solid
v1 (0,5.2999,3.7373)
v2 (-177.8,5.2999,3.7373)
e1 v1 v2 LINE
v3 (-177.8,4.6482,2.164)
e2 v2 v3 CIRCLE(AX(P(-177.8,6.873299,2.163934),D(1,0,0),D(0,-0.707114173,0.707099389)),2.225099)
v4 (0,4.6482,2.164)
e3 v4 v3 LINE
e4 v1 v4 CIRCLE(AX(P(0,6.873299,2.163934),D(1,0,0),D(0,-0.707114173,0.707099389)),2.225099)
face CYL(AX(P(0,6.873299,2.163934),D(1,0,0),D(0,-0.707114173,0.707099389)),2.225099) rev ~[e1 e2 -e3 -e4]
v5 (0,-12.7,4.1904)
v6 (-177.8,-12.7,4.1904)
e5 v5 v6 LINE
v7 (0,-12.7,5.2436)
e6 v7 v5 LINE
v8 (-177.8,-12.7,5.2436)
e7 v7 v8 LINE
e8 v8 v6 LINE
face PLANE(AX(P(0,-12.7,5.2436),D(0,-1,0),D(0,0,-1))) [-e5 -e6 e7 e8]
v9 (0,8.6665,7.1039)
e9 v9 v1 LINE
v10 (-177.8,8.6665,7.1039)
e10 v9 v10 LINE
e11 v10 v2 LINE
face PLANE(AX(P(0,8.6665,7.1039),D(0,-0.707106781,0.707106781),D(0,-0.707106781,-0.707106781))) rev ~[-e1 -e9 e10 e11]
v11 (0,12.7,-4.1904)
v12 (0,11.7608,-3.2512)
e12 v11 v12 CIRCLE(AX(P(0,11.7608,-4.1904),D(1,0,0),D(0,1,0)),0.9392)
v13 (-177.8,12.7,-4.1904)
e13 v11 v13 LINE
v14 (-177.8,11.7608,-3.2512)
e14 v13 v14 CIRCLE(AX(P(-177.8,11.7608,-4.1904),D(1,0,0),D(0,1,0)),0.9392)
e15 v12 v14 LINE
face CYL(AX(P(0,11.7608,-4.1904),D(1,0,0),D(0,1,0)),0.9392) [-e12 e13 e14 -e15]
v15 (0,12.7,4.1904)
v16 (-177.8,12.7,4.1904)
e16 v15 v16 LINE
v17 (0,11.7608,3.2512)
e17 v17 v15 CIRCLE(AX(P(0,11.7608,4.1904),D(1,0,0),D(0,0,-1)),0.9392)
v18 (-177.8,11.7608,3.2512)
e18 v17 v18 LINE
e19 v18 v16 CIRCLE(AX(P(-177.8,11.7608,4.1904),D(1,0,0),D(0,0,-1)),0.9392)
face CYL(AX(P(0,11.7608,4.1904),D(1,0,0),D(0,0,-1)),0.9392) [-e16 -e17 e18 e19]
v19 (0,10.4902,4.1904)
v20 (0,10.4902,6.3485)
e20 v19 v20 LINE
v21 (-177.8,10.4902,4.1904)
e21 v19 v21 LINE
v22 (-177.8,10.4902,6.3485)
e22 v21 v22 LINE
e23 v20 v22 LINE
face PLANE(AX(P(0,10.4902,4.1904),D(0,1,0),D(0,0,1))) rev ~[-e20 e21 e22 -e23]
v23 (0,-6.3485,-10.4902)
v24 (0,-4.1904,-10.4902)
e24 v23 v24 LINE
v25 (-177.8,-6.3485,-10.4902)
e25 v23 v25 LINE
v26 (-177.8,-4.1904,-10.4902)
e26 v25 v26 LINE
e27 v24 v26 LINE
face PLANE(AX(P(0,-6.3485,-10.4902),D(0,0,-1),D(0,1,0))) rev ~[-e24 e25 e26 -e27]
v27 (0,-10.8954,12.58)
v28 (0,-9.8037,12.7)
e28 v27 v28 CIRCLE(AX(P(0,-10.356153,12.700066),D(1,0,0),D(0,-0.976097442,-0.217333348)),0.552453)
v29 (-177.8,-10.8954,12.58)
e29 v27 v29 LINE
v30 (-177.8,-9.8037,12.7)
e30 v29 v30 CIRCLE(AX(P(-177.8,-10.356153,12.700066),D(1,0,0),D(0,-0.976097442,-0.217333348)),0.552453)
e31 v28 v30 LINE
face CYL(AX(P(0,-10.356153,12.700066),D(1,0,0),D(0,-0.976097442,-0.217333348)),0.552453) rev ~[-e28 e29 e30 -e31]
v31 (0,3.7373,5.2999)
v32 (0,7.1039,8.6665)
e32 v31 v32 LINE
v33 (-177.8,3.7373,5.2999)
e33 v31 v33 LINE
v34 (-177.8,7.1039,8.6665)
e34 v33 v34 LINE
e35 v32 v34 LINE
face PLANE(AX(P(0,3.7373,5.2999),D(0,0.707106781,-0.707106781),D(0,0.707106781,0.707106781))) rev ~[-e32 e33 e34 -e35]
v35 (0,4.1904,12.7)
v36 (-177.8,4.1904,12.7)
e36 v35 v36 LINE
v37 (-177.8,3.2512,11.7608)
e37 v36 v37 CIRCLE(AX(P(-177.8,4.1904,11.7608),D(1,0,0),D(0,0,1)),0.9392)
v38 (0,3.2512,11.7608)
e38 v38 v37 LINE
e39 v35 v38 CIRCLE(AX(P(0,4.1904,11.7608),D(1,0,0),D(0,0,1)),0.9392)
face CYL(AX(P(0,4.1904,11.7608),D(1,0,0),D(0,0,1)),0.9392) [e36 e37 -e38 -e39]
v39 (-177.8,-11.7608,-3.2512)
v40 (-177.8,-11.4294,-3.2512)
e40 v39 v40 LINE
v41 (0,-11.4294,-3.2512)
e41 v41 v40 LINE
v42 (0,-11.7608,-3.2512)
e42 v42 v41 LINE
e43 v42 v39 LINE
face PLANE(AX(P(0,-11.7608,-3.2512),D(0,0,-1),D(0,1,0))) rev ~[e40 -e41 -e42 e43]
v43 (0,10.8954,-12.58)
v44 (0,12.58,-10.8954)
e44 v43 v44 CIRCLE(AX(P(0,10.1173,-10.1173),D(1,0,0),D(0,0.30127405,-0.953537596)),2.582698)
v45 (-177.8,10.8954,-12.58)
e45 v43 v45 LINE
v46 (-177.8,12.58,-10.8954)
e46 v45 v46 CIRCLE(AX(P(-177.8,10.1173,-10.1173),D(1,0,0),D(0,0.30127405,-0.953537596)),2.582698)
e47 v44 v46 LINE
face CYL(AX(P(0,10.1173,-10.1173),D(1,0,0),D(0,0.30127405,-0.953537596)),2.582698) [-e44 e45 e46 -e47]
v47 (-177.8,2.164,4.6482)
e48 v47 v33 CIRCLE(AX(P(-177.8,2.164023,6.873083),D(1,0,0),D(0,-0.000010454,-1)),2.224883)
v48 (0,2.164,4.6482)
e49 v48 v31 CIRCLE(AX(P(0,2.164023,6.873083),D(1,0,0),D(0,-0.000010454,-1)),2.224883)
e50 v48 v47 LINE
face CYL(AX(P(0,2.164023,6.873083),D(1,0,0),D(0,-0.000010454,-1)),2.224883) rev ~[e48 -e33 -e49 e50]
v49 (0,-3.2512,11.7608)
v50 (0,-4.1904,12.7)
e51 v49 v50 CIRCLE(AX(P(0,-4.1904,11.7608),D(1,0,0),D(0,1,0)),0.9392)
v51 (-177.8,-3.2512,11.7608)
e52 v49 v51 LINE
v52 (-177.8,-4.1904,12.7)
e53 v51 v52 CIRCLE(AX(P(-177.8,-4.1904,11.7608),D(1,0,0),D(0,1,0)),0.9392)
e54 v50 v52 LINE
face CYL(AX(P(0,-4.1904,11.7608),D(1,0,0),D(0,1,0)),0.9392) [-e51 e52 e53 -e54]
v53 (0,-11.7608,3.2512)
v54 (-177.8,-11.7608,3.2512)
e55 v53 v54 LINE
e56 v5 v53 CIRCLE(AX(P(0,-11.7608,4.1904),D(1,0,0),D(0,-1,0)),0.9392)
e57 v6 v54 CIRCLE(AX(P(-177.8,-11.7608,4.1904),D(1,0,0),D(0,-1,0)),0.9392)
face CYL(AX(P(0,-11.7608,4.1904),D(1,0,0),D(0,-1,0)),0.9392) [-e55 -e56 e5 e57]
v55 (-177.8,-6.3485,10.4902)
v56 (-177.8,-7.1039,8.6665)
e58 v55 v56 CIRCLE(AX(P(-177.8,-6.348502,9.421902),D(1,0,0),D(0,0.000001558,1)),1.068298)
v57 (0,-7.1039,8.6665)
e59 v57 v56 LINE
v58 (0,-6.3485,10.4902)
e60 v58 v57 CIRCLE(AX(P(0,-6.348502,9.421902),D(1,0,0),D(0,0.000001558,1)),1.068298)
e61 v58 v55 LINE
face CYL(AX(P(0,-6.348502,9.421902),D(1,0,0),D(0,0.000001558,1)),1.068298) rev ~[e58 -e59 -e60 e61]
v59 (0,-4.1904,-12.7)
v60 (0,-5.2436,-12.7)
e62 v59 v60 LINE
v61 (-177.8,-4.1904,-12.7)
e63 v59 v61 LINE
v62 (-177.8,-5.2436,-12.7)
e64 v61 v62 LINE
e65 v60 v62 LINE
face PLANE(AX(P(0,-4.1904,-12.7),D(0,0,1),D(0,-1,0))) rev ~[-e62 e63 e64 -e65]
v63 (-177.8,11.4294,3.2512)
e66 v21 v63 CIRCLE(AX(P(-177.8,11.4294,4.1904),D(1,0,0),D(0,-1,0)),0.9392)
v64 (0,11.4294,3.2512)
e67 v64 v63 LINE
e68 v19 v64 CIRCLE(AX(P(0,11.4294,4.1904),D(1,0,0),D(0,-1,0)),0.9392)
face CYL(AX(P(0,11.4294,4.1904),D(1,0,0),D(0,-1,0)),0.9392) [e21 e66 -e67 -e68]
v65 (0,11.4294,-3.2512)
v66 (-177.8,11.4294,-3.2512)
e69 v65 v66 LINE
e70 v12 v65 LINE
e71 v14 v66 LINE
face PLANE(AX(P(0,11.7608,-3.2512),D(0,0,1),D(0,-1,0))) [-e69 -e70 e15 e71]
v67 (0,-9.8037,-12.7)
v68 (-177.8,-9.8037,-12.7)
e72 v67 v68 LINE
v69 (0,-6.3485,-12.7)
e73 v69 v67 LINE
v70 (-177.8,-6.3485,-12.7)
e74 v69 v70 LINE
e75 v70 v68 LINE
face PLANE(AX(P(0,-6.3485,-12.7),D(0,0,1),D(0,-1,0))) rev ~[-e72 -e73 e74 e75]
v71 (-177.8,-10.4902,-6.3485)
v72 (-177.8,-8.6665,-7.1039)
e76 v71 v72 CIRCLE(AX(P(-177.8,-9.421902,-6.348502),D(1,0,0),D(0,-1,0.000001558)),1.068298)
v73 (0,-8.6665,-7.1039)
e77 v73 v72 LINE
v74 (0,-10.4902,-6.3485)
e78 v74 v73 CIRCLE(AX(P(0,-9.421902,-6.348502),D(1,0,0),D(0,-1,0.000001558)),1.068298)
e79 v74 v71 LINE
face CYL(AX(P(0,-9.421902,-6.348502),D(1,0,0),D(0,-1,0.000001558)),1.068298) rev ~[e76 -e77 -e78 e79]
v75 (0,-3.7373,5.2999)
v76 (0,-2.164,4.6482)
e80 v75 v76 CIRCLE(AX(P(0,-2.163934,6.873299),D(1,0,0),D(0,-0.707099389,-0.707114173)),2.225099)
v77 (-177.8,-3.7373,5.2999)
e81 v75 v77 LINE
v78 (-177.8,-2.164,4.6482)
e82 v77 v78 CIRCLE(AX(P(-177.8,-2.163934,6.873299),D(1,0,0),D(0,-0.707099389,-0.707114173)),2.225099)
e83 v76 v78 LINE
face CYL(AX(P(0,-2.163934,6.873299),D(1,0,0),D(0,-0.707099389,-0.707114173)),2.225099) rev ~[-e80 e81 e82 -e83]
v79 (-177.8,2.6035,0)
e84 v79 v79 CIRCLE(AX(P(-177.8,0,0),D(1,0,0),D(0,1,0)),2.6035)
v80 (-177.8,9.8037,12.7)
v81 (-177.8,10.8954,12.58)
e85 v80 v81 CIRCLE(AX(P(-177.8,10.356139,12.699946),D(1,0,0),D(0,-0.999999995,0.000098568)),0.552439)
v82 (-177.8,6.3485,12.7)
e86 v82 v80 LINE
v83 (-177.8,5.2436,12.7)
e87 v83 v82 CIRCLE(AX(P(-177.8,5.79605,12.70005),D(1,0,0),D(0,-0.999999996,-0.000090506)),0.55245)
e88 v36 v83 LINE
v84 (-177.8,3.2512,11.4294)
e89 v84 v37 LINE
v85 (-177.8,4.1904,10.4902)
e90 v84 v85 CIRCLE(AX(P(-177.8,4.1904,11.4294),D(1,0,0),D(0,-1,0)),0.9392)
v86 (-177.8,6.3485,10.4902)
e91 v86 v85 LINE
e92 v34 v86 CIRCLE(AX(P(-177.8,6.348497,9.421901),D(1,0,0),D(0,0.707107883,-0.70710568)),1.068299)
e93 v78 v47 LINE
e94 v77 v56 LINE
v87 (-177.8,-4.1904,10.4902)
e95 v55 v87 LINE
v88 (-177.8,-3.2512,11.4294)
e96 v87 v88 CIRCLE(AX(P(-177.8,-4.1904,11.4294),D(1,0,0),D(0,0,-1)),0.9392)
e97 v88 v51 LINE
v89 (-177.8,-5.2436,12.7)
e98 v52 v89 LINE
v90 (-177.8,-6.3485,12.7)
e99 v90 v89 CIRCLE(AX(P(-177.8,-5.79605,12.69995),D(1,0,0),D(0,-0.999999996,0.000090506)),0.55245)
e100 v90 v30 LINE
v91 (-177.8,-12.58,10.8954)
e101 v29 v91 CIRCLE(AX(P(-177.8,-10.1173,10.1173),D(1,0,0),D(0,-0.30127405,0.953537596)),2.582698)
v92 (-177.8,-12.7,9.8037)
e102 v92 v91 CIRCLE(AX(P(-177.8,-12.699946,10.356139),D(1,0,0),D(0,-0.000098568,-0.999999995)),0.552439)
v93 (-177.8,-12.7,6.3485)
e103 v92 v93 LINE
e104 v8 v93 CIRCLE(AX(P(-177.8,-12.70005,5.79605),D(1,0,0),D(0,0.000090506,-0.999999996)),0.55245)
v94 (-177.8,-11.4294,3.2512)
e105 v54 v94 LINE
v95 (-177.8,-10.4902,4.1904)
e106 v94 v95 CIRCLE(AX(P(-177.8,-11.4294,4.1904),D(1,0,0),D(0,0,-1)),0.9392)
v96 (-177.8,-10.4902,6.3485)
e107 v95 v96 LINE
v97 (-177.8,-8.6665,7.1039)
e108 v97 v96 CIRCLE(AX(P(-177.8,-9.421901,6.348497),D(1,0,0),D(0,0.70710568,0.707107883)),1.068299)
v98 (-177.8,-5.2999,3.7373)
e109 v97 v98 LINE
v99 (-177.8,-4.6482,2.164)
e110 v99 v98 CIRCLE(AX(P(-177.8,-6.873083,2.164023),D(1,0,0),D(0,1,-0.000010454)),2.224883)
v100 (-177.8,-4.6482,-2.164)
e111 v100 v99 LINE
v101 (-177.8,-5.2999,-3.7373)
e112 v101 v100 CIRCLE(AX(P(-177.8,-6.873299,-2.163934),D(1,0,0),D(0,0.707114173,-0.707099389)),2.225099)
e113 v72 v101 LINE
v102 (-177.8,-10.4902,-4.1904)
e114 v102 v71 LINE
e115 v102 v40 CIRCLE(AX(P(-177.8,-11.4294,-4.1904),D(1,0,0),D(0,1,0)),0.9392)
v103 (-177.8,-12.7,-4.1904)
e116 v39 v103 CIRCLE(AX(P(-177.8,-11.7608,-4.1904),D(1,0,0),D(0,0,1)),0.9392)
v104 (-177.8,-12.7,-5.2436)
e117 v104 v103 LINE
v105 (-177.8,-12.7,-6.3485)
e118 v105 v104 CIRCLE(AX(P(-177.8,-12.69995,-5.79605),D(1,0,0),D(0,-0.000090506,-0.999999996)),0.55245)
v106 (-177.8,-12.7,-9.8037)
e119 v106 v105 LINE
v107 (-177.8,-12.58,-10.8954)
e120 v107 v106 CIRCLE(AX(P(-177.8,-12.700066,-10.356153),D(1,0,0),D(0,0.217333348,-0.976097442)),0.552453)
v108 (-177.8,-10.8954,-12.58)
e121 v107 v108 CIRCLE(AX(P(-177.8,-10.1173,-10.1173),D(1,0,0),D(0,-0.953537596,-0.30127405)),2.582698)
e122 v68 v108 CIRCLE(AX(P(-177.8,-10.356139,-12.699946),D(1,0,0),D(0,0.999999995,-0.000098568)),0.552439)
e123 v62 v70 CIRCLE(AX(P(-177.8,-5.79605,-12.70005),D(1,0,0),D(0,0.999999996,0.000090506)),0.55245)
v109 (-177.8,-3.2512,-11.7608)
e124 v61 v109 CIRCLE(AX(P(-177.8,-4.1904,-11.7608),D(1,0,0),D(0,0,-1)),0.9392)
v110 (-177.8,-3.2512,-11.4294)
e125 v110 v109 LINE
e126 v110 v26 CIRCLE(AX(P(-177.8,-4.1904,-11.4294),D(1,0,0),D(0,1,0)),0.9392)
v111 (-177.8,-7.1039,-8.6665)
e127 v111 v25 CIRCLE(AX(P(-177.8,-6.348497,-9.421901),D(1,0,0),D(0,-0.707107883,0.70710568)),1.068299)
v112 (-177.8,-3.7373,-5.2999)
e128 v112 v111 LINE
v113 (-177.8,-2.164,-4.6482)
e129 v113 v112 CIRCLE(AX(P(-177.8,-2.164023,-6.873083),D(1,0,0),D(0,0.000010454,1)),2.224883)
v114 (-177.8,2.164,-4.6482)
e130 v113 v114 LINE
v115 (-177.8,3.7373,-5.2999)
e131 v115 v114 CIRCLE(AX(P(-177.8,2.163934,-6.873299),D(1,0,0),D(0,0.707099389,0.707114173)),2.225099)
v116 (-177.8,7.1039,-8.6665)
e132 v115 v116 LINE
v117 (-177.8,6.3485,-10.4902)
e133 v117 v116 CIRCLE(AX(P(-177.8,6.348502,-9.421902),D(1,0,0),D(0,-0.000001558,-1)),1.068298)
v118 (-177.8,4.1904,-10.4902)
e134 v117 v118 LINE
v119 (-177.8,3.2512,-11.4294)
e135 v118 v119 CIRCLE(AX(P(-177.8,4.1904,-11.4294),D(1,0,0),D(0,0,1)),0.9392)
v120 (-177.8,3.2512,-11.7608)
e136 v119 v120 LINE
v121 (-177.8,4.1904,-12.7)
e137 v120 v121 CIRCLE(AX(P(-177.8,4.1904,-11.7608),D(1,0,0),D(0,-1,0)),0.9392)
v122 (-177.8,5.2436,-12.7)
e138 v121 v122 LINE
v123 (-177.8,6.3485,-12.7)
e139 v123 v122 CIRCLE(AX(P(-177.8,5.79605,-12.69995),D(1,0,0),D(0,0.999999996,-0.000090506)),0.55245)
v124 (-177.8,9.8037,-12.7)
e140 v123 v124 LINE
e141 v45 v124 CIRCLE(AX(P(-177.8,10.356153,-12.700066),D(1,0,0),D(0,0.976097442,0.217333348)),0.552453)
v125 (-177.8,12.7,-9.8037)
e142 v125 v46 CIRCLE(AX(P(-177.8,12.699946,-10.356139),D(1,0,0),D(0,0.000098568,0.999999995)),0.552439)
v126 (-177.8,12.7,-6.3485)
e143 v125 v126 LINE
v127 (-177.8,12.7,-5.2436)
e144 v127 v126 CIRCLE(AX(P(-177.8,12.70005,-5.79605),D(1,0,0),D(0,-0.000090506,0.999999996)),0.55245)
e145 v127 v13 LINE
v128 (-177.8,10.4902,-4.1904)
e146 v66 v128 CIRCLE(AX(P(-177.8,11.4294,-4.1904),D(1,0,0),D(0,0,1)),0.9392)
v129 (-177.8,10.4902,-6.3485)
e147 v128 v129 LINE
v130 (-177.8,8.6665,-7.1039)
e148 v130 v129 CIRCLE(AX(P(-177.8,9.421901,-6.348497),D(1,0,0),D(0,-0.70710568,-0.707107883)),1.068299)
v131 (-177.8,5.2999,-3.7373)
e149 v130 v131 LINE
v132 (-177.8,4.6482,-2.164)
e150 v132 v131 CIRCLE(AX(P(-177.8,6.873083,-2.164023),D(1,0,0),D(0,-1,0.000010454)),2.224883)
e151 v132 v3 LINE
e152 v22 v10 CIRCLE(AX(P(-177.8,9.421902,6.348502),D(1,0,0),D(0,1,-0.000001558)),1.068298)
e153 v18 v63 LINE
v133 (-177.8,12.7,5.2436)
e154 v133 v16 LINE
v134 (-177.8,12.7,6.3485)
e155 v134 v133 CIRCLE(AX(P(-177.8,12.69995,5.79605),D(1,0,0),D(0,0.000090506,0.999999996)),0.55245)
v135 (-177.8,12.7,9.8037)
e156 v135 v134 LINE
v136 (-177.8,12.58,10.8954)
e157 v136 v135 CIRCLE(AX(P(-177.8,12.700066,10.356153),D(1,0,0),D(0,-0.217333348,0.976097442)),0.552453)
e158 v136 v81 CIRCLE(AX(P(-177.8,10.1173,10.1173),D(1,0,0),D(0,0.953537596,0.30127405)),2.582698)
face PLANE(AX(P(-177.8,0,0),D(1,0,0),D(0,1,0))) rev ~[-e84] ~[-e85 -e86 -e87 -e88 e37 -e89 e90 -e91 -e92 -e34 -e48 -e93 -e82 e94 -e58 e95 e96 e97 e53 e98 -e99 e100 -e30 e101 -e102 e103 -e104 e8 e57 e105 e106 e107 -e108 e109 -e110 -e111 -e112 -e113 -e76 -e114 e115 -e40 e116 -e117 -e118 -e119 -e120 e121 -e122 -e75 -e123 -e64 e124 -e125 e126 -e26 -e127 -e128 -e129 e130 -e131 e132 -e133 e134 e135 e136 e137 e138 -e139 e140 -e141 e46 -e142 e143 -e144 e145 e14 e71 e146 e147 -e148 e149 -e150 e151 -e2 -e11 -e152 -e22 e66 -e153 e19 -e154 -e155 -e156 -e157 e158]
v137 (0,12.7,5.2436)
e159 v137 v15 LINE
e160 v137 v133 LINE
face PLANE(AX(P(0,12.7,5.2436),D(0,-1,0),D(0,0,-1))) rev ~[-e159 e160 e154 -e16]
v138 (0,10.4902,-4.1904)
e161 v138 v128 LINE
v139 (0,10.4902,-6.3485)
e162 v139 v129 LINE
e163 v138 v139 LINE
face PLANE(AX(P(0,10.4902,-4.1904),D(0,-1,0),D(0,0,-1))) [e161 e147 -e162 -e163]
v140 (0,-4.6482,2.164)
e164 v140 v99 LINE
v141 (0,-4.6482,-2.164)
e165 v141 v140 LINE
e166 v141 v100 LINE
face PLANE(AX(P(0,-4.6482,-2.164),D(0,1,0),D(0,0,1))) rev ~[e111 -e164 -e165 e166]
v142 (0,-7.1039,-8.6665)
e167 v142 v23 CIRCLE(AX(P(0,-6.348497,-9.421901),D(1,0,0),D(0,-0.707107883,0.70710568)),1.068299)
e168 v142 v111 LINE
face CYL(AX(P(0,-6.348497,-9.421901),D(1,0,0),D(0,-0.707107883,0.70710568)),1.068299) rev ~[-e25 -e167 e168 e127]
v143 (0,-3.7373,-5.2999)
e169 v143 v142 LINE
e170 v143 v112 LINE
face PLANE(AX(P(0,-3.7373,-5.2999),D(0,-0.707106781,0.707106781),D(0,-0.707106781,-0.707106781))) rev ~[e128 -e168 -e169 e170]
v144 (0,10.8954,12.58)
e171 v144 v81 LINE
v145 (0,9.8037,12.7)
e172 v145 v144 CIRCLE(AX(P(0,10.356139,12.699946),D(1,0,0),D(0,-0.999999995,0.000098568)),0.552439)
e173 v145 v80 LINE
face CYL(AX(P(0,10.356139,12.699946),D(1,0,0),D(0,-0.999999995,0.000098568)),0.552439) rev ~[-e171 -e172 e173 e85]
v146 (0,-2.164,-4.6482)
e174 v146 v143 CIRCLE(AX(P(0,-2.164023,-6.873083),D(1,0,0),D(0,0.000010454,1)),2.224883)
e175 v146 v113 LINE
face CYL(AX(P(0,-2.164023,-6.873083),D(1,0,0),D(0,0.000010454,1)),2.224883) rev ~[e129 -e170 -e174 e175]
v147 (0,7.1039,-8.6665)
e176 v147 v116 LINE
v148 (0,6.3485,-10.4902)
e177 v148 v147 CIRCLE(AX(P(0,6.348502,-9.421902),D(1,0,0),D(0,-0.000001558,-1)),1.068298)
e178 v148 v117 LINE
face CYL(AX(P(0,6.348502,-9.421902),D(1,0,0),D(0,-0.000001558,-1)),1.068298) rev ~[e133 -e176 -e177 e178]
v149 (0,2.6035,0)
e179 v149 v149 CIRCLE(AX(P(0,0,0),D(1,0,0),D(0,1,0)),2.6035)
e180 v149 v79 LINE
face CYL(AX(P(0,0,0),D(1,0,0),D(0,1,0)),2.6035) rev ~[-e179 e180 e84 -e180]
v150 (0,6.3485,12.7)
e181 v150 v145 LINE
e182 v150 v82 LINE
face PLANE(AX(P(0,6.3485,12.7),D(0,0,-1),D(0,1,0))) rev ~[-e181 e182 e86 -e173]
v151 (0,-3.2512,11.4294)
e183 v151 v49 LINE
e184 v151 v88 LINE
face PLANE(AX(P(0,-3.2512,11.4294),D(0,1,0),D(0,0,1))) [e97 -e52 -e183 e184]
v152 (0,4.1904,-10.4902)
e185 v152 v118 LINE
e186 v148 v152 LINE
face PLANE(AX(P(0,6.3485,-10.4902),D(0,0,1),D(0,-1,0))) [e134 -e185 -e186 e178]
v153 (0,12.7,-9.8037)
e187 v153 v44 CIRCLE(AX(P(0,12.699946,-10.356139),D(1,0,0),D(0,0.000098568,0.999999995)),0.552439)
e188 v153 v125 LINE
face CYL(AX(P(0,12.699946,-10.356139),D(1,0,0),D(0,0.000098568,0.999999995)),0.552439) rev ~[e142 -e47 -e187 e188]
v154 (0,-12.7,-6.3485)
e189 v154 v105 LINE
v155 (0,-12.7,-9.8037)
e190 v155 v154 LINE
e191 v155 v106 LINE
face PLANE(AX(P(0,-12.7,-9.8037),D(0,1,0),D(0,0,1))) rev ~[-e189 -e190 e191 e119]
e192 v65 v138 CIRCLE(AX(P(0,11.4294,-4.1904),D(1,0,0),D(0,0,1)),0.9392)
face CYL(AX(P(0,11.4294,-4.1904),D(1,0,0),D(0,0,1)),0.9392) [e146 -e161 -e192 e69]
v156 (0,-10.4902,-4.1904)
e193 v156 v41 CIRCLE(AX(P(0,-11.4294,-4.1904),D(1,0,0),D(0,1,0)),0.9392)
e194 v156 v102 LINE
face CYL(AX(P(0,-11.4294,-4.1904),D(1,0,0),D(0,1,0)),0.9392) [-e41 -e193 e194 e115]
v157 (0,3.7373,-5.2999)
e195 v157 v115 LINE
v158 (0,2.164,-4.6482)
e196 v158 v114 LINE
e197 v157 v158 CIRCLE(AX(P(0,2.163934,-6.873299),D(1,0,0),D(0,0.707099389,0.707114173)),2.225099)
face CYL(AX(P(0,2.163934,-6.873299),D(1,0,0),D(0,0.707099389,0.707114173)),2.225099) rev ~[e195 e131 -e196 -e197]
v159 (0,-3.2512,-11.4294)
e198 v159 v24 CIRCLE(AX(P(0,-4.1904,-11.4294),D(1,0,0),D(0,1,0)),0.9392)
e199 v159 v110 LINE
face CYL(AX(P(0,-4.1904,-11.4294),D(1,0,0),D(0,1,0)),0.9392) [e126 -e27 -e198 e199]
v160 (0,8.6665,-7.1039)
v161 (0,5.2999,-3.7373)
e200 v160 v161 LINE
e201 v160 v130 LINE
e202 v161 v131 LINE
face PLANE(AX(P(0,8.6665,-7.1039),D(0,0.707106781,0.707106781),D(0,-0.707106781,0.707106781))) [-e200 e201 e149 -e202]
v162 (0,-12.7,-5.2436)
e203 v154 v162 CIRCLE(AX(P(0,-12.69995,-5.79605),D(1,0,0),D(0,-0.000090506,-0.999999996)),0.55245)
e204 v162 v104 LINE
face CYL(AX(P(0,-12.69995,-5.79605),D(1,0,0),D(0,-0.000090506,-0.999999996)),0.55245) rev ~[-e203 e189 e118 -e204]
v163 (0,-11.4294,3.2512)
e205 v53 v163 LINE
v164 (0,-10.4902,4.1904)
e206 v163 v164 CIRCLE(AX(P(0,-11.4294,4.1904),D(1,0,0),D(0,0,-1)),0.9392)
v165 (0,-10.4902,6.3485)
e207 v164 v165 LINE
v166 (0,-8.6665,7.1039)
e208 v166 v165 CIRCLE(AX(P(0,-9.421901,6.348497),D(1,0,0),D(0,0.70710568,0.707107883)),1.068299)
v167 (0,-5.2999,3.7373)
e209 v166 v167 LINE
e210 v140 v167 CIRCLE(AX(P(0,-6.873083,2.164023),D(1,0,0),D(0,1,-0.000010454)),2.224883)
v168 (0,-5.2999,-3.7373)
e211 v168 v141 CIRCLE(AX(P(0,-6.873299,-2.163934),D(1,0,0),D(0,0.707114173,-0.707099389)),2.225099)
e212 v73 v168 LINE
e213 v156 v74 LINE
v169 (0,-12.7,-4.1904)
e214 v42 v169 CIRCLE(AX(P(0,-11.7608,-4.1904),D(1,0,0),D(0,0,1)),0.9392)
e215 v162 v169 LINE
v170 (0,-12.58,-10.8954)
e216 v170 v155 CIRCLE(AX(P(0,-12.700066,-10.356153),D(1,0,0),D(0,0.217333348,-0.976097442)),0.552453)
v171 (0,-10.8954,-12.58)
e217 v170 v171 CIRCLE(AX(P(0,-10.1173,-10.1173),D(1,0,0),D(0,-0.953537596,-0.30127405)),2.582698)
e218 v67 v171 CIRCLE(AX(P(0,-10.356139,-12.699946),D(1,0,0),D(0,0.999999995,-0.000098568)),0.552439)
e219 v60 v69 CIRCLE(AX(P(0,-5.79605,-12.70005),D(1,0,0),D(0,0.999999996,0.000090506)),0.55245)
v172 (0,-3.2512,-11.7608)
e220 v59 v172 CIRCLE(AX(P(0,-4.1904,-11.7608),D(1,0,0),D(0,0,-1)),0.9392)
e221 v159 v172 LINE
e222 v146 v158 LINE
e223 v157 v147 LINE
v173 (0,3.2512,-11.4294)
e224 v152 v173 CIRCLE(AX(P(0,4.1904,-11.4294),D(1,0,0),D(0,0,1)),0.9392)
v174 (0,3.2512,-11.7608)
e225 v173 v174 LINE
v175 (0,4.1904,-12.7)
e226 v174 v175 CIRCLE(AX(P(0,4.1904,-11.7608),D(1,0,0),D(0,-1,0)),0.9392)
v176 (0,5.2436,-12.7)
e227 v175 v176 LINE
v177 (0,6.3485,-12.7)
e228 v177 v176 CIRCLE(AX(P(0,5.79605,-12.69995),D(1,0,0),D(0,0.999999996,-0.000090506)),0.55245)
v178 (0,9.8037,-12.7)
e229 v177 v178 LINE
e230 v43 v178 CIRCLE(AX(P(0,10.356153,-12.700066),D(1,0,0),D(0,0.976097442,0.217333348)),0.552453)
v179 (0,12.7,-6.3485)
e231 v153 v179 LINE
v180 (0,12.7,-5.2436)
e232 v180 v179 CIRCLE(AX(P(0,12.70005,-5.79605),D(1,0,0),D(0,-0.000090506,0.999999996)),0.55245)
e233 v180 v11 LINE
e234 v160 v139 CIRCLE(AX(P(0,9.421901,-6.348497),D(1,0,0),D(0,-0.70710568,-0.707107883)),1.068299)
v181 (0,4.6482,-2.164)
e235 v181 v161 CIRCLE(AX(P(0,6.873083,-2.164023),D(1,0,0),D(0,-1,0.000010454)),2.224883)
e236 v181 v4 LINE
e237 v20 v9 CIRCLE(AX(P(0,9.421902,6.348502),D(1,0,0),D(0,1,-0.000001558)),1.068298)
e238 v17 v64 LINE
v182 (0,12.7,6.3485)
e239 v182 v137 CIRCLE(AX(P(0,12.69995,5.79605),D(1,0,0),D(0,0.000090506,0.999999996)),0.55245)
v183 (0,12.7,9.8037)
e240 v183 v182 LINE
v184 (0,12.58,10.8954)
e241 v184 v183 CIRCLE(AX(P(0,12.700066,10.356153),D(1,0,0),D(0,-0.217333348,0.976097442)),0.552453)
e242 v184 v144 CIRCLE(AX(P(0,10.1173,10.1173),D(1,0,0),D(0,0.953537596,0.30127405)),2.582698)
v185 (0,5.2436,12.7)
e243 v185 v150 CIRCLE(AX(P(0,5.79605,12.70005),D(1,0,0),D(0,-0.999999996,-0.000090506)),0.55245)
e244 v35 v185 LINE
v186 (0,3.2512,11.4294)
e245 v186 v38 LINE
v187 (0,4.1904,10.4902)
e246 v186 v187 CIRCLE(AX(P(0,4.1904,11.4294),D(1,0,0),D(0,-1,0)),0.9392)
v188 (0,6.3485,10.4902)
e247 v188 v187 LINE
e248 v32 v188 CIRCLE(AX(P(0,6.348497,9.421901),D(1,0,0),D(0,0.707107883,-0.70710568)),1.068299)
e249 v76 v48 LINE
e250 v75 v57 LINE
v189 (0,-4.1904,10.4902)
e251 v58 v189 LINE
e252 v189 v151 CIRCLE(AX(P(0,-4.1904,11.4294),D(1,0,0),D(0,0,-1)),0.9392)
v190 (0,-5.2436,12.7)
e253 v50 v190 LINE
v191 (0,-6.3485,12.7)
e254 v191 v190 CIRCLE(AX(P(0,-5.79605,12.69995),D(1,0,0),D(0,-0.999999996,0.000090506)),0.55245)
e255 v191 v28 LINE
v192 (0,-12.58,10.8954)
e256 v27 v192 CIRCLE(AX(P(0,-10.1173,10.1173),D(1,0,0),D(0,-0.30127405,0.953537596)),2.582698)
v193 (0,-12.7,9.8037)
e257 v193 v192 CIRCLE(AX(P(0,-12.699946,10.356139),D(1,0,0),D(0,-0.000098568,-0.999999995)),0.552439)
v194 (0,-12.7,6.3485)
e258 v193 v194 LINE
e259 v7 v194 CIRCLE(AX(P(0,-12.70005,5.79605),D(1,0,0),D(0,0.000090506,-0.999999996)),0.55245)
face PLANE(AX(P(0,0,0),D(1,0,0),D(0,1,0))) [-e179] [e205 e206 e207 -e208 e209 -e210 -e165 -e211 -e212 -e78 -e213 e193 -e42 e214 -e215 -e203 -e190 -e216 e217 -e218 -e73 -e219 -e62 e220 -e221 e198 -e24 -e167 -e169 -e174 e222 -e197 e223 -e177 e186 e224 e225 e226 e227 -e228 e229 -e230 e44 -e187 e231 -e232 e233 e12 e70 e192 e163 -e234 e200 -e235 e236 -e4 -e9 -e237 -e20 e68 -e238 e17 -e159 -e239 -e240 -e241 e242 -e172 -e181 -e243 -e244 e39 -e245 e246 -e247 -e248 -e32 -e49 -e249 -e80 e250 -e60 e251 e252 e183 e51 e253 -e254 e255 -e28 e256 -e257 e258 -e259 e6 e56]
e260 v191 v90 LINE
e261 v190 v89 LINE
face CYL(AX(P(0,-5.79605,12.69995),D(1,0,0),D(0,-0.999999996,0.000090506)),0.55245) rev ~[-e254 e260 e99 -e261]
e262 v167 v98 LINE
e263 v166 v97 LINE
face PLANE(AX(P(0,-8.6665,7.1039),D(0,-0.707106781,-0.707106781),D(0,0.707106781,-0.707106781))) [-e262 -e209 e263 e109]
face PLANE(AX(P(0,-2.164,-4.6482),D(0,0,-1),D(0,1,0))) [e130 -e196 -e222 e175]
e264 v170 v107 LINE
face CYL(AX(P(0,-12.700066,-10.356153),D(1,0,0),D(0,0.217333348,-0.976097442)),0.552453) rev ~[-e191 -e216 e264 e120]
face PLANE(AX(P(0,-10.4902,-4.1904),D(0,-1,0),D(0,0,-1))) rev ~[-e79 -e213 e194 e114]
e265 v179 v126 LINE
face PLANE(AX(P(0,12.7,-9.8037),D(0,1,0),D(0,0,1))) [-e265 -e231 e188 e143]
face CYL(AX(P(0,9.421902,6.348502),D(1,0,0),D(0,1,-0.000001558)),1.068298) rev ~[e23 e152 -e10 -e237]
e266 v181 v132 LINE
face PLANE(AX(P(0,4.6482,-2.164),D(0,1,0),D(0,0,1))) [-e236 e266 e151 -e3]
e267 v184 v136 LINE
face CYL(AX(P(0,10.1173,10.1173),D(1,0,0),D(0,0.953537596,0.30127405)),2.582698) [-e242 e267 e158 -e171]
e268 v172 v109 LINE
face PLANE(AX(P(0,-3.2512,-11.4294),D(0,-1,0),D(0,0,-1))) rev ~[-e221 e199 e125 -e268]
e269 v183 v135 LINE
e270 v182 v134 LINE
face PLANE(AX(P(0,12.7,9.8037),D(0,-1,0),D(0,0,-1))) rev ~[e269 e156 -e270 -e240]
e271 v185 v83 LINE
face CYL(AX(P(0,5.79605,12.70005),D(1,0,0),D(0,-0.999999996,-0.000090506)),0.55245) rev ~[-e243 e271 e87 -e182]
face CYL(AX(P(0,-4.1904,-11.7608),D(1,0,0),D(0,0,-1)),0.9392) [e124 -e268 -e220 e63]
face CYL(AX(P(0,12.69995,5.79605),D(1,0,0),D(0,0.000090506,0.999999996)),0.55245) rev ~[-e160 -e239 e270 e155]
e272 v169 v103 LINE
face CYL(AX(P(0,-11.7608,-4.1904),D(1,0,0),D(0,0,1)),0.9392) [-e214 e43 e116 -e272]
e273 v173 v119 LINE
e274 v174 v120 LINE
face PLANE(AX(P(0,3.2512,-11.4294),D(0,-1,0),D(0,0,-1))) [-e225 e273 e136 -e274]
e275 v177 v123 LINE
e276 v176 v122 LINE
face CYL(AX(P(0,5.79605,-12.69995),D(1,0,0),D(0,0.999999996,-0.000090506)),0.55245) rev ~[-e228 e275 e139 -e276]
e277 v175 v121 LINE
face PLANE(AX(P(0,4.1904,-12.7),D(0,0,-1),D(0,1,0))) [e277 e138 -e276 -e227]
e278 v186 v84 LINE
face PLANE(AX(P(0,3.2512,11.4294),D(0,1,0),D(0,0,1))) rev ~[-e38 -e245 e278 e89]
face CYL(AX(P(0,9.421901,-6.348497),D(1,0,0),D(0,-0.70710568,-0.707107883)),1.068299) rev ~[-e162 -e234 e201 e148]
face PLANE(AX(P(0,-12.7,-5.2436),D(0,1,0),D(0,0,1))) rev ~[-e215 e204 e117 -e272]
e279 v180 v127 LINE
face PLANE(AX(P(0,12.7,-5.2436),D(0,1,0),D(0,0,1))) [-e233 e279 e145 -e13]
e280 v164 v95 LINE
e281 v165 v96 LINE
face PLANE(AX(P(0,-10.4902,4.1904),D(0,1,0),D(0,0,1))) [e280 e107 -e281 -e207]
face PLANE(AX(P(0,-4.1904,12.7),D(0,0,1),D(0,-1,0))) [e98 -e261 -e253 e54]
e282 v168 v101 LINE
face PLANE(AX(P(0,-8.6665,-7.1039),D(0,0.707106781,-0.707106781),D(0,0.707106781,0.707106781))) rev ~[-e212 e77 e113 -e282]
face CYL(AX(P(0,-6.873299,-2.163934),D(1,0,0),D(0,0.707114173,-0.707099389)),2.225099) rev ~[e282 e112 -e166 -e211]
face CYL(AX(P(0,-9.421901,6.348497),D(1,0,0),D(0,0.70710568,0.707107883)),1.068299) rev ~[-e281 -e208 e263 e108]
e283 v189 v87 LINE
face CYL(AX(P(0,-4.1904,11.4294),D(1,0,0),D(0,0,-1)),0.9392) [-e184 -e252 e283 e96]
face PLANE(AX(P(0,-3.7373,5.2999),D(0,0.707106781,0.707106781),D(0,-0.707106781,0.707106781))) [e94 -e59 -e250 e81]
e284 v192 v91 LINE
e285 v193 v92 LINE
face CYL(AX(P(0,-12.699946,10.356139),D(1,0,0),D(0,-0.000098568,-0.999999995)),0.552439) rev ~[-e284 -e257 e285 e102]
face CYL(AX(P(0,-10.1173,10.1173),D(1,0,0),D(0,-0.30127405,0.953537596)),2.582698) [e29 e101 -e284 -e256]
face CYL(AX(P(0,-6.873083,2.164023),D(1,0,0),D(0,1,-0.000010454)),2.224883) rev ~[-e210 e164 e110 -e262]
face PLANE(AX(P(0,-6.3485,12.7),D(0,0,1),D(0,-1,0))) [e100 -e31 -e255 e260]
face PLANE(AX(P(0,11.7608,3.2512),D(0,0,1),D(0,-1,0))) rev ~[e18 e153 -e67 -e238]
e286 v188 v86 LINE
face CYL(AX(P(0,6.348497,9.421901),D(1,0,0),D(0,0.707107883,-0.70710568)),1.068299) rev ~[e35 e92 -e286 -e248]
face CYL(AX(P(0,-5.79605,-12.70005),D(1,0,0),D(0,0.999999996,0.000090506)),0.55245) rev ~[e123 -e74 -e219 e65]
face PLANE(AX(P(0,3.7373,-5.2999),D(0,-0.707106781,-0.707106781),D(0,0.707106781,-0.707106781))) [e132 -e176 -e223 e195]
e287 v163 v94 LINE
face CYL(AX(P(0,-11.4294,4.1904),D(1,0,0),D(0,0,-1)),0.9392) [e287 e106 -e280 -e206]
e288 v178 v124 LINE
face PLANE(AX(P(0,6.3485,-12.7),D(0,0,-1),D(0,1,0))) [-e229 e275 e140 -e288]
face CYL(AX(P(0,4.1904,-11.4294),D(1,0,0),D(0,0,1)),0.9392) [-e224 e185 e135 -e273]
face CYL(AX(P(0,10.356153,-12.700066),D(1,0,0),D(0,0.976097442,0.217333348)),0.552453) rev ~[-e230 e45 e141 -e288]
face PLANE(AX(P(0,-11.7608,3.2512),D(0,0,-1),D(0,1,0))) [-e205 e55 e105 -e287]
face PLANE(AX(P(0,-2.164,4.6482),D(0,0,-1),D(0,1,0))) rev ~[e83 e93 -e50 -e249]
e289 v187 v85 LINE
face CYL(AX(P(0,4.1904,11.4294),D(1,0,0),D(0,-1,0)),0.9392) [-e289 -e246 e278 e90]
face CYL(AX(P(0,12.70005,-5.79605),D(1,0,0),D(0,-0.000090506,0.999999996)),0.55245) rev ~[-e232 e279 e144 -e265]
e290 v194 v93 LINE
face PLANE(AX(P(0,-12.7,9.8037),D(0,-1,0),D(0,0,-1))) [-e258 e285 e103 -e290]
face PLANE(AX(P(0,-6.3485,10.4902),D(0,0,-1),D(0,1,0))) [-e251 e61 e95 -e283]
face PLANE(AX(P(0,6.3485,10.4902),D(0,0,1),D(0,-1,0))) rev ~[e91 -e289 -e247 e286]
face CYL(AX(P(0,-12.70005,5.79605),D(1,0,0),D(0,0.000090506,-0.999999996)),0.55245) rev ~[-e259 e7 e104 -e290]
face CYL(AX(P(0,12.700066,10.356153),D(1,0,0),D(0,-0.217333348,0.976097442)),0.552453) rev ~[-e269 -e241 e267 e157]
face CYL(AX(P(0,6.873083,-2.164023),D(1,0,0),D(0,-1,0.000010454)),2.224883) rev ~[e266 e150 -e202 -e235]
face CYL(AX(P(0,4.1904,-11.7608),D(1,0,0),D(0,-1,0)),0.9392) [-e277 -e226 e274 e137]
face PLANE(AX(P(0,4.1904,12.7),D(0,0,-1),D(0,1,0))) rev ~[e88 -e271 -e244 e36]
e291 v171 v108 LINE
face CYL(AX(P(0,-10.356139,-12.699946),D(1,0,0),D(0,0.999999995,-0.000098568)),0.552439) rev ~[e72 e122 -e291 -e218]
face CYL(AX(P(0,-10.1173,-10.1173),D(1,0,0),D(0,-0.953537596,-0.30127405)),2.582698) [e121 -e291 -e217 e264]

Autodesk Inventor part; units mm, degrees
ref_plane "YZ Plane" through (0, 0, 0) normal (1, 0, 0) x (0, 1, 0)
ref_plane "XZ Plane" through (0, 0, 0) normal (0, 1, 0) x (-1, 0, 0)
ref_plane "XY Plane" through (0, 0, 0) normal (0, 0, 1) x (1, 0, 0)
sketch "Sketch1" plane through (0, 0, 0) normal (1, 0, 0) x (0, 1, 0)
  arc A0 (12.7, -5.2436) -> (12.7, -6.3485) centre (12.7, -5.796) ccw
  line L0 (12.7, -5.2436) -> (12.7, -4.1904)
  arc A1 (12.7, -4.1904) -> (11.7608, -3.2512) centre (11.7608, -4.1904) ccw
  line L1 (11.7608, -3.2512) -> (11.4294, -3.2512)
  arc A2 (11.4294, -3.2512) -> (10.4902, -4.1904) centre (11.4294, -4.1904) ccw
  line L2 (10.4902, -4.1904) -> (10.4902, -6.3485)
  arc A3 (8.6665, -7.1039) -> (10.4902, -6.3485) centre (9.4219, -6.3485) ccw
  line L3 (8.6665, -7.1039) -> (5.2999, -3.7373)
  arc A4 (4.6482, -2.164) -> (5.2999, -3.7373) centre (6.8732, -2.164) ccw
  line L4 (4.6482, -2.164) -> (4.6482, 2.164)
  arc A5 (5.2999, 3.7373) -> (4.6482, 2.164) centre (6.8732, 2.164) ccw
  line L5 (8.6665, 7.1039) -> (5.2999, 3.7373)
  arc A6 (10.4902, 6.3485) -> (8.6665, 7.1039) centre (9.4219, 6.3485) ccw
  line L6 (10.4902, 4.1904) -> (10.4902, 6.3485)
  arc A7 (10.4902, 4.1904) -> (11.4294, 3.2512) centre (11.4294, 4.1904) ccw
  line L7 (11.7608, 3.2512) -> (11.4294, 3.2512)
  arc A8 (11.7608, 3.2512) -> (12.7, 4.1904) centre (11.7608, 4.1904) ccw
  line L8 (12.7, 5.2436) -> (12.7, 4.1904)
  arc A9 (12.7, 6.3485) -> (12.7, 5.2436) centre (12.7, 5.796) ccw
  line L9 (12.7, 9.8037) -> (12.7, 6.3485)
  arc A10 (12.58, 10.8954) -> (12.7, 9.8037) centre (12.7, 10.3562) ccw
  arc A11 (12.58, 10.8954) -> (10.8954, 12.58) centre (10.1173, 10.1173) ccw
  arc A12 (9.8037, 12.7) -> (10.8954, 12.58) centre (10.3562, 12.7) ccw
  line L10 (6.3485, 12.7) -> (9.8037, 12.7)
  arc A13 (5.2436, 12.7) -> (6.3485, 12.7) centre (5.796, 12.7) ccw
  line L11 (4.1904, 12.7) -> (5.2436, 12.7)
  arc A14 (4.1904, 12.7) -> (3.2512, 11.7608) centre (4.1904, 11.7608) ccw
  line L12 (3.2512, 11.4294) -> (3.2512, 11.7608)
  arc A15 (3.2512, 11.4294) -> (4.1904, 10.4902) centre (4.1904, 11.4294) ccw
  line L13 (6.3485, 10.4902) -> (4.1904, 10.4902)
  arc A16 (7.1039, 8.6665) -> (6.3485, 10.4902) centre (6.3485, 9.4219) ccw
  line L14 (3.7373, 5.2999) -> (7.1039, 8.6665)
  arc A17 (2.164, 4.6482) -> (3.7373, 5.2999) centre (2.164, 6.8732) ccw
  line L15 (-2.164, 4.6482) -> (2.164, 4.6482)
  arc A18 (-3.7373, 5.2999) -> (-2.164, 4.6482) centre (-2.164, 6.8732) ccw
  line L16 (-3.7373, 5.2999) -> (-7.1039, 8.6665)
  arc A19 (-6.3485, 10.4902) -> (-7.1039, 8.6665) centre (-6.3485, 9.4219) ccw
  line L17 (-6.3485, 10.4902) -> (-4.1904, 10.4902)
  arc A20 (-4.1904, 10.4902) -> (-3.2512, 11.4294) centre (-4.1904, 11.4294) ccw
  line L18 (-3.2512, 11.4294) -> (-3.2512, 11.7608)
  arc A21 (-3.2512, 11.7608) -> (-4.1904, 12.7) centre (-4.1904, 11.7608) ccw
  line L19 (-4.1904, 12.7) -> (-5.2436, 12.7)
  arc A22 (-6.3485, 12.7) -> (-5.2436, 12.7) centre (-5.796, 12.7) ccw
  line L20 (-6.3485, 12.7) -> (-9.8037, 12.7)
  arc A23 (-10.8954, 12.58) -> (-9.8037, 12.7) centre (-10.3562, 12.7) ccw
  arc A24 (-10.8954, 12.58) -> (-12.58, 10.8954) centre (-10.1173, 10.1173) ccw
  arc A25 (-12.7, 9.8037) -> (-12.58, 10.8954) centre (-12.7, 10.3562) ccw
  line L21 (-12.7, 9.8037) -> (-12.7, 6.3485)
  arc A26 (-12.7, 5.2436) -> (-12.7, 6.3485) centre (-12.7, 5.796) ccw
  line L22 (-12.7, 5.2436) -> (-12.7, 4.1904)
  arc A27 (-12.7, 4.1904) -> (-11.7608, 3.2512) centre (-11.7608, 4.1904) ccw
  line L23 (-11.7608, 3.2512) -> (-11.4294, 3.2512)
  arc A28 (-11.4294, 3.2512) -> (-10.4902, 4.1904) centre (-11.4294, 4.1904) ccw
  line L24 (-10.4902, 4.1904) -> (-10.4902, 6.3485)
  arc A29 (-8.6665, 7.1039) -> (-10.4902, 6.3485) centre (-9.4219, 6.3485) ccw
  line L25 (-8.6665, 7.1039) -> (-5.2999, 3.7373)
  arc A30 (-4.6482, 2.164) -> (-5.2999, 3.7373) centre (-6.8732, 2.164) ccw
  line L26 (-4.6482, -2.164) -> (-4.6482, 2.164)
  arc A31 (-5.2999, -3.7373) -> (-4.6482, -2.164) centre (-6.8732, -2.164) ccw
  line L27 (-8.6665, -7.1039) -> (-5.2999, -3.7373)
  arc A32 (-10.4902, -6.3485) -> (-8.6665, -7.1039) centre (-9.4219, -6.3485) ccw
  line L28 (-10.4902, -4.1904) -> (-10.4902, -6.3485)
  arc A33 (-10.4902, -4.1904) -> (-11.4294, -3.2512) centre (-11.4294, -4.1904) ccw
  line L29 (-11.7608, -3.2512) -> (-11.4294, -3.2512)
  arc A34 (-11.7608, -3.2512) -> (-12.7, -4.1904) centre (-11.7608, -4.1904) ccw
  line L30 (-12.7, -5.2436) -> (-12.7, -4.1904)
  arc A35 (-12.7, -6.3485) -> (-12.7, -5.2436) centre (-12.7, -5.796) ccw
  line L31 (-12.7, -9.8037) -> (-12.7, -6.3485)
  arc A36 (-12.58, -10.8954) -> (-12.7, -9.8037) centre (-12.7, -10.3562) ccw
  arc A37 (-12.58, -10.8954) -> (-10.8954, -12.58) centre (-10.1173, -10.1173) ccw
  arc A38 (-9.8037, -12.7) -> (-10.8954, -12.58) centre (-10.3562, -12.7) ccw
  line L32 (-6.3485, -12.7) -> (-9.8037, -12.7)
  arc A39 (-5.2436, -12.7) -> (-6.3485, -12.7) centre (-5.796, -12.7) ccw
  line L33 (-4.1904, -12.7) -> (-5.2436, -12.7)
  arc A40 (-4.1904, -12.7) -> (-3.2512, -11.7608) centre (-4.1904, -11.7608) ccw
  line L34 (-3.2512, -11.4294) -> (-3.2512, -11.7608)
  arc A41 (-3.2512, -11.4294) -> (-4.1904, -10.4902) centre (-4.1904, -11.4294) ccw
  line L35 (-6.3485, -10.4902) -> (-4.1904, -10.4902)
  arc A42 (-7.1039, -8.6665) -> (-6.3485, -10.4902) centre (-6.3485, -9.4219) ccw
  line L36 (-3.7373, -5.2999) -> (-7.1039, -8.6665)
  arc A43 (-2.164, -4.6482) -> (-3.7373, -5.2999) centre (-2.164, -6.8732) ccw
  line L37 (-2.164, -4.6482) -> (2.164, -4.6482)
  arc A44 (3.7373, -5.2999) -> (2.164, -4.6482) centre (2.164, -6.8732) ccw
  line L38 (3.7373, -5.2999) -> (7.1039, -8.6665)
  arc A45 (6.3485, -10.4902) -> (7.1039, -8.6665) centre (6.3485, -9.4219) ccw
  line L39 (6.3485, -10.4902) -> (4.1904, -10.4902)
  arc A46 (4.1904, -10.4902) -> (3.2512, -11.4294) centre (4.1904, -11.4294) ccw
  line L40 (3.2512, -11.4294) -> (3.2512, -11.7608)
  arc A47 (3.2512, -11.7608) -> (4.1904, -12.7) centre (4.1904, -11.7608) ccw
  line L41 (4.1904, -12.7) -> (5.2436, -12.7)
  arc A48 (6.3485, -12.7) -> (5.2436, -12.7) centre (5.796, -12.7) ccw
  line L42 (6.3485, -12.7) -> (9.8037, -12.7)
  arc A49 (10.8954, -12.58) -> (9.8037, -12.7) centre (10.3562, -12.7) ccw
  arc A50 (10.8954, -12.58) -> (12.58, -10.8954) centre (10.1173, -10.1173) ccw
  arc A51 (12.7, -9.8037) -> (12.58, -10.8954) centre (12.7, -10.3562) ccw
  line L43 (12.7, -9.8037) -> (12.7, -6.3485)
  circle A52 centre (0, 0) radius 2.6035
  point P0 (0, 0)
  point P1 (0, 0)
extrude "Extrusion1" add sketch "Sketch1" against normal blind 177.8
properties part number "6pt9inStrut" material "Aluminum 6061"
